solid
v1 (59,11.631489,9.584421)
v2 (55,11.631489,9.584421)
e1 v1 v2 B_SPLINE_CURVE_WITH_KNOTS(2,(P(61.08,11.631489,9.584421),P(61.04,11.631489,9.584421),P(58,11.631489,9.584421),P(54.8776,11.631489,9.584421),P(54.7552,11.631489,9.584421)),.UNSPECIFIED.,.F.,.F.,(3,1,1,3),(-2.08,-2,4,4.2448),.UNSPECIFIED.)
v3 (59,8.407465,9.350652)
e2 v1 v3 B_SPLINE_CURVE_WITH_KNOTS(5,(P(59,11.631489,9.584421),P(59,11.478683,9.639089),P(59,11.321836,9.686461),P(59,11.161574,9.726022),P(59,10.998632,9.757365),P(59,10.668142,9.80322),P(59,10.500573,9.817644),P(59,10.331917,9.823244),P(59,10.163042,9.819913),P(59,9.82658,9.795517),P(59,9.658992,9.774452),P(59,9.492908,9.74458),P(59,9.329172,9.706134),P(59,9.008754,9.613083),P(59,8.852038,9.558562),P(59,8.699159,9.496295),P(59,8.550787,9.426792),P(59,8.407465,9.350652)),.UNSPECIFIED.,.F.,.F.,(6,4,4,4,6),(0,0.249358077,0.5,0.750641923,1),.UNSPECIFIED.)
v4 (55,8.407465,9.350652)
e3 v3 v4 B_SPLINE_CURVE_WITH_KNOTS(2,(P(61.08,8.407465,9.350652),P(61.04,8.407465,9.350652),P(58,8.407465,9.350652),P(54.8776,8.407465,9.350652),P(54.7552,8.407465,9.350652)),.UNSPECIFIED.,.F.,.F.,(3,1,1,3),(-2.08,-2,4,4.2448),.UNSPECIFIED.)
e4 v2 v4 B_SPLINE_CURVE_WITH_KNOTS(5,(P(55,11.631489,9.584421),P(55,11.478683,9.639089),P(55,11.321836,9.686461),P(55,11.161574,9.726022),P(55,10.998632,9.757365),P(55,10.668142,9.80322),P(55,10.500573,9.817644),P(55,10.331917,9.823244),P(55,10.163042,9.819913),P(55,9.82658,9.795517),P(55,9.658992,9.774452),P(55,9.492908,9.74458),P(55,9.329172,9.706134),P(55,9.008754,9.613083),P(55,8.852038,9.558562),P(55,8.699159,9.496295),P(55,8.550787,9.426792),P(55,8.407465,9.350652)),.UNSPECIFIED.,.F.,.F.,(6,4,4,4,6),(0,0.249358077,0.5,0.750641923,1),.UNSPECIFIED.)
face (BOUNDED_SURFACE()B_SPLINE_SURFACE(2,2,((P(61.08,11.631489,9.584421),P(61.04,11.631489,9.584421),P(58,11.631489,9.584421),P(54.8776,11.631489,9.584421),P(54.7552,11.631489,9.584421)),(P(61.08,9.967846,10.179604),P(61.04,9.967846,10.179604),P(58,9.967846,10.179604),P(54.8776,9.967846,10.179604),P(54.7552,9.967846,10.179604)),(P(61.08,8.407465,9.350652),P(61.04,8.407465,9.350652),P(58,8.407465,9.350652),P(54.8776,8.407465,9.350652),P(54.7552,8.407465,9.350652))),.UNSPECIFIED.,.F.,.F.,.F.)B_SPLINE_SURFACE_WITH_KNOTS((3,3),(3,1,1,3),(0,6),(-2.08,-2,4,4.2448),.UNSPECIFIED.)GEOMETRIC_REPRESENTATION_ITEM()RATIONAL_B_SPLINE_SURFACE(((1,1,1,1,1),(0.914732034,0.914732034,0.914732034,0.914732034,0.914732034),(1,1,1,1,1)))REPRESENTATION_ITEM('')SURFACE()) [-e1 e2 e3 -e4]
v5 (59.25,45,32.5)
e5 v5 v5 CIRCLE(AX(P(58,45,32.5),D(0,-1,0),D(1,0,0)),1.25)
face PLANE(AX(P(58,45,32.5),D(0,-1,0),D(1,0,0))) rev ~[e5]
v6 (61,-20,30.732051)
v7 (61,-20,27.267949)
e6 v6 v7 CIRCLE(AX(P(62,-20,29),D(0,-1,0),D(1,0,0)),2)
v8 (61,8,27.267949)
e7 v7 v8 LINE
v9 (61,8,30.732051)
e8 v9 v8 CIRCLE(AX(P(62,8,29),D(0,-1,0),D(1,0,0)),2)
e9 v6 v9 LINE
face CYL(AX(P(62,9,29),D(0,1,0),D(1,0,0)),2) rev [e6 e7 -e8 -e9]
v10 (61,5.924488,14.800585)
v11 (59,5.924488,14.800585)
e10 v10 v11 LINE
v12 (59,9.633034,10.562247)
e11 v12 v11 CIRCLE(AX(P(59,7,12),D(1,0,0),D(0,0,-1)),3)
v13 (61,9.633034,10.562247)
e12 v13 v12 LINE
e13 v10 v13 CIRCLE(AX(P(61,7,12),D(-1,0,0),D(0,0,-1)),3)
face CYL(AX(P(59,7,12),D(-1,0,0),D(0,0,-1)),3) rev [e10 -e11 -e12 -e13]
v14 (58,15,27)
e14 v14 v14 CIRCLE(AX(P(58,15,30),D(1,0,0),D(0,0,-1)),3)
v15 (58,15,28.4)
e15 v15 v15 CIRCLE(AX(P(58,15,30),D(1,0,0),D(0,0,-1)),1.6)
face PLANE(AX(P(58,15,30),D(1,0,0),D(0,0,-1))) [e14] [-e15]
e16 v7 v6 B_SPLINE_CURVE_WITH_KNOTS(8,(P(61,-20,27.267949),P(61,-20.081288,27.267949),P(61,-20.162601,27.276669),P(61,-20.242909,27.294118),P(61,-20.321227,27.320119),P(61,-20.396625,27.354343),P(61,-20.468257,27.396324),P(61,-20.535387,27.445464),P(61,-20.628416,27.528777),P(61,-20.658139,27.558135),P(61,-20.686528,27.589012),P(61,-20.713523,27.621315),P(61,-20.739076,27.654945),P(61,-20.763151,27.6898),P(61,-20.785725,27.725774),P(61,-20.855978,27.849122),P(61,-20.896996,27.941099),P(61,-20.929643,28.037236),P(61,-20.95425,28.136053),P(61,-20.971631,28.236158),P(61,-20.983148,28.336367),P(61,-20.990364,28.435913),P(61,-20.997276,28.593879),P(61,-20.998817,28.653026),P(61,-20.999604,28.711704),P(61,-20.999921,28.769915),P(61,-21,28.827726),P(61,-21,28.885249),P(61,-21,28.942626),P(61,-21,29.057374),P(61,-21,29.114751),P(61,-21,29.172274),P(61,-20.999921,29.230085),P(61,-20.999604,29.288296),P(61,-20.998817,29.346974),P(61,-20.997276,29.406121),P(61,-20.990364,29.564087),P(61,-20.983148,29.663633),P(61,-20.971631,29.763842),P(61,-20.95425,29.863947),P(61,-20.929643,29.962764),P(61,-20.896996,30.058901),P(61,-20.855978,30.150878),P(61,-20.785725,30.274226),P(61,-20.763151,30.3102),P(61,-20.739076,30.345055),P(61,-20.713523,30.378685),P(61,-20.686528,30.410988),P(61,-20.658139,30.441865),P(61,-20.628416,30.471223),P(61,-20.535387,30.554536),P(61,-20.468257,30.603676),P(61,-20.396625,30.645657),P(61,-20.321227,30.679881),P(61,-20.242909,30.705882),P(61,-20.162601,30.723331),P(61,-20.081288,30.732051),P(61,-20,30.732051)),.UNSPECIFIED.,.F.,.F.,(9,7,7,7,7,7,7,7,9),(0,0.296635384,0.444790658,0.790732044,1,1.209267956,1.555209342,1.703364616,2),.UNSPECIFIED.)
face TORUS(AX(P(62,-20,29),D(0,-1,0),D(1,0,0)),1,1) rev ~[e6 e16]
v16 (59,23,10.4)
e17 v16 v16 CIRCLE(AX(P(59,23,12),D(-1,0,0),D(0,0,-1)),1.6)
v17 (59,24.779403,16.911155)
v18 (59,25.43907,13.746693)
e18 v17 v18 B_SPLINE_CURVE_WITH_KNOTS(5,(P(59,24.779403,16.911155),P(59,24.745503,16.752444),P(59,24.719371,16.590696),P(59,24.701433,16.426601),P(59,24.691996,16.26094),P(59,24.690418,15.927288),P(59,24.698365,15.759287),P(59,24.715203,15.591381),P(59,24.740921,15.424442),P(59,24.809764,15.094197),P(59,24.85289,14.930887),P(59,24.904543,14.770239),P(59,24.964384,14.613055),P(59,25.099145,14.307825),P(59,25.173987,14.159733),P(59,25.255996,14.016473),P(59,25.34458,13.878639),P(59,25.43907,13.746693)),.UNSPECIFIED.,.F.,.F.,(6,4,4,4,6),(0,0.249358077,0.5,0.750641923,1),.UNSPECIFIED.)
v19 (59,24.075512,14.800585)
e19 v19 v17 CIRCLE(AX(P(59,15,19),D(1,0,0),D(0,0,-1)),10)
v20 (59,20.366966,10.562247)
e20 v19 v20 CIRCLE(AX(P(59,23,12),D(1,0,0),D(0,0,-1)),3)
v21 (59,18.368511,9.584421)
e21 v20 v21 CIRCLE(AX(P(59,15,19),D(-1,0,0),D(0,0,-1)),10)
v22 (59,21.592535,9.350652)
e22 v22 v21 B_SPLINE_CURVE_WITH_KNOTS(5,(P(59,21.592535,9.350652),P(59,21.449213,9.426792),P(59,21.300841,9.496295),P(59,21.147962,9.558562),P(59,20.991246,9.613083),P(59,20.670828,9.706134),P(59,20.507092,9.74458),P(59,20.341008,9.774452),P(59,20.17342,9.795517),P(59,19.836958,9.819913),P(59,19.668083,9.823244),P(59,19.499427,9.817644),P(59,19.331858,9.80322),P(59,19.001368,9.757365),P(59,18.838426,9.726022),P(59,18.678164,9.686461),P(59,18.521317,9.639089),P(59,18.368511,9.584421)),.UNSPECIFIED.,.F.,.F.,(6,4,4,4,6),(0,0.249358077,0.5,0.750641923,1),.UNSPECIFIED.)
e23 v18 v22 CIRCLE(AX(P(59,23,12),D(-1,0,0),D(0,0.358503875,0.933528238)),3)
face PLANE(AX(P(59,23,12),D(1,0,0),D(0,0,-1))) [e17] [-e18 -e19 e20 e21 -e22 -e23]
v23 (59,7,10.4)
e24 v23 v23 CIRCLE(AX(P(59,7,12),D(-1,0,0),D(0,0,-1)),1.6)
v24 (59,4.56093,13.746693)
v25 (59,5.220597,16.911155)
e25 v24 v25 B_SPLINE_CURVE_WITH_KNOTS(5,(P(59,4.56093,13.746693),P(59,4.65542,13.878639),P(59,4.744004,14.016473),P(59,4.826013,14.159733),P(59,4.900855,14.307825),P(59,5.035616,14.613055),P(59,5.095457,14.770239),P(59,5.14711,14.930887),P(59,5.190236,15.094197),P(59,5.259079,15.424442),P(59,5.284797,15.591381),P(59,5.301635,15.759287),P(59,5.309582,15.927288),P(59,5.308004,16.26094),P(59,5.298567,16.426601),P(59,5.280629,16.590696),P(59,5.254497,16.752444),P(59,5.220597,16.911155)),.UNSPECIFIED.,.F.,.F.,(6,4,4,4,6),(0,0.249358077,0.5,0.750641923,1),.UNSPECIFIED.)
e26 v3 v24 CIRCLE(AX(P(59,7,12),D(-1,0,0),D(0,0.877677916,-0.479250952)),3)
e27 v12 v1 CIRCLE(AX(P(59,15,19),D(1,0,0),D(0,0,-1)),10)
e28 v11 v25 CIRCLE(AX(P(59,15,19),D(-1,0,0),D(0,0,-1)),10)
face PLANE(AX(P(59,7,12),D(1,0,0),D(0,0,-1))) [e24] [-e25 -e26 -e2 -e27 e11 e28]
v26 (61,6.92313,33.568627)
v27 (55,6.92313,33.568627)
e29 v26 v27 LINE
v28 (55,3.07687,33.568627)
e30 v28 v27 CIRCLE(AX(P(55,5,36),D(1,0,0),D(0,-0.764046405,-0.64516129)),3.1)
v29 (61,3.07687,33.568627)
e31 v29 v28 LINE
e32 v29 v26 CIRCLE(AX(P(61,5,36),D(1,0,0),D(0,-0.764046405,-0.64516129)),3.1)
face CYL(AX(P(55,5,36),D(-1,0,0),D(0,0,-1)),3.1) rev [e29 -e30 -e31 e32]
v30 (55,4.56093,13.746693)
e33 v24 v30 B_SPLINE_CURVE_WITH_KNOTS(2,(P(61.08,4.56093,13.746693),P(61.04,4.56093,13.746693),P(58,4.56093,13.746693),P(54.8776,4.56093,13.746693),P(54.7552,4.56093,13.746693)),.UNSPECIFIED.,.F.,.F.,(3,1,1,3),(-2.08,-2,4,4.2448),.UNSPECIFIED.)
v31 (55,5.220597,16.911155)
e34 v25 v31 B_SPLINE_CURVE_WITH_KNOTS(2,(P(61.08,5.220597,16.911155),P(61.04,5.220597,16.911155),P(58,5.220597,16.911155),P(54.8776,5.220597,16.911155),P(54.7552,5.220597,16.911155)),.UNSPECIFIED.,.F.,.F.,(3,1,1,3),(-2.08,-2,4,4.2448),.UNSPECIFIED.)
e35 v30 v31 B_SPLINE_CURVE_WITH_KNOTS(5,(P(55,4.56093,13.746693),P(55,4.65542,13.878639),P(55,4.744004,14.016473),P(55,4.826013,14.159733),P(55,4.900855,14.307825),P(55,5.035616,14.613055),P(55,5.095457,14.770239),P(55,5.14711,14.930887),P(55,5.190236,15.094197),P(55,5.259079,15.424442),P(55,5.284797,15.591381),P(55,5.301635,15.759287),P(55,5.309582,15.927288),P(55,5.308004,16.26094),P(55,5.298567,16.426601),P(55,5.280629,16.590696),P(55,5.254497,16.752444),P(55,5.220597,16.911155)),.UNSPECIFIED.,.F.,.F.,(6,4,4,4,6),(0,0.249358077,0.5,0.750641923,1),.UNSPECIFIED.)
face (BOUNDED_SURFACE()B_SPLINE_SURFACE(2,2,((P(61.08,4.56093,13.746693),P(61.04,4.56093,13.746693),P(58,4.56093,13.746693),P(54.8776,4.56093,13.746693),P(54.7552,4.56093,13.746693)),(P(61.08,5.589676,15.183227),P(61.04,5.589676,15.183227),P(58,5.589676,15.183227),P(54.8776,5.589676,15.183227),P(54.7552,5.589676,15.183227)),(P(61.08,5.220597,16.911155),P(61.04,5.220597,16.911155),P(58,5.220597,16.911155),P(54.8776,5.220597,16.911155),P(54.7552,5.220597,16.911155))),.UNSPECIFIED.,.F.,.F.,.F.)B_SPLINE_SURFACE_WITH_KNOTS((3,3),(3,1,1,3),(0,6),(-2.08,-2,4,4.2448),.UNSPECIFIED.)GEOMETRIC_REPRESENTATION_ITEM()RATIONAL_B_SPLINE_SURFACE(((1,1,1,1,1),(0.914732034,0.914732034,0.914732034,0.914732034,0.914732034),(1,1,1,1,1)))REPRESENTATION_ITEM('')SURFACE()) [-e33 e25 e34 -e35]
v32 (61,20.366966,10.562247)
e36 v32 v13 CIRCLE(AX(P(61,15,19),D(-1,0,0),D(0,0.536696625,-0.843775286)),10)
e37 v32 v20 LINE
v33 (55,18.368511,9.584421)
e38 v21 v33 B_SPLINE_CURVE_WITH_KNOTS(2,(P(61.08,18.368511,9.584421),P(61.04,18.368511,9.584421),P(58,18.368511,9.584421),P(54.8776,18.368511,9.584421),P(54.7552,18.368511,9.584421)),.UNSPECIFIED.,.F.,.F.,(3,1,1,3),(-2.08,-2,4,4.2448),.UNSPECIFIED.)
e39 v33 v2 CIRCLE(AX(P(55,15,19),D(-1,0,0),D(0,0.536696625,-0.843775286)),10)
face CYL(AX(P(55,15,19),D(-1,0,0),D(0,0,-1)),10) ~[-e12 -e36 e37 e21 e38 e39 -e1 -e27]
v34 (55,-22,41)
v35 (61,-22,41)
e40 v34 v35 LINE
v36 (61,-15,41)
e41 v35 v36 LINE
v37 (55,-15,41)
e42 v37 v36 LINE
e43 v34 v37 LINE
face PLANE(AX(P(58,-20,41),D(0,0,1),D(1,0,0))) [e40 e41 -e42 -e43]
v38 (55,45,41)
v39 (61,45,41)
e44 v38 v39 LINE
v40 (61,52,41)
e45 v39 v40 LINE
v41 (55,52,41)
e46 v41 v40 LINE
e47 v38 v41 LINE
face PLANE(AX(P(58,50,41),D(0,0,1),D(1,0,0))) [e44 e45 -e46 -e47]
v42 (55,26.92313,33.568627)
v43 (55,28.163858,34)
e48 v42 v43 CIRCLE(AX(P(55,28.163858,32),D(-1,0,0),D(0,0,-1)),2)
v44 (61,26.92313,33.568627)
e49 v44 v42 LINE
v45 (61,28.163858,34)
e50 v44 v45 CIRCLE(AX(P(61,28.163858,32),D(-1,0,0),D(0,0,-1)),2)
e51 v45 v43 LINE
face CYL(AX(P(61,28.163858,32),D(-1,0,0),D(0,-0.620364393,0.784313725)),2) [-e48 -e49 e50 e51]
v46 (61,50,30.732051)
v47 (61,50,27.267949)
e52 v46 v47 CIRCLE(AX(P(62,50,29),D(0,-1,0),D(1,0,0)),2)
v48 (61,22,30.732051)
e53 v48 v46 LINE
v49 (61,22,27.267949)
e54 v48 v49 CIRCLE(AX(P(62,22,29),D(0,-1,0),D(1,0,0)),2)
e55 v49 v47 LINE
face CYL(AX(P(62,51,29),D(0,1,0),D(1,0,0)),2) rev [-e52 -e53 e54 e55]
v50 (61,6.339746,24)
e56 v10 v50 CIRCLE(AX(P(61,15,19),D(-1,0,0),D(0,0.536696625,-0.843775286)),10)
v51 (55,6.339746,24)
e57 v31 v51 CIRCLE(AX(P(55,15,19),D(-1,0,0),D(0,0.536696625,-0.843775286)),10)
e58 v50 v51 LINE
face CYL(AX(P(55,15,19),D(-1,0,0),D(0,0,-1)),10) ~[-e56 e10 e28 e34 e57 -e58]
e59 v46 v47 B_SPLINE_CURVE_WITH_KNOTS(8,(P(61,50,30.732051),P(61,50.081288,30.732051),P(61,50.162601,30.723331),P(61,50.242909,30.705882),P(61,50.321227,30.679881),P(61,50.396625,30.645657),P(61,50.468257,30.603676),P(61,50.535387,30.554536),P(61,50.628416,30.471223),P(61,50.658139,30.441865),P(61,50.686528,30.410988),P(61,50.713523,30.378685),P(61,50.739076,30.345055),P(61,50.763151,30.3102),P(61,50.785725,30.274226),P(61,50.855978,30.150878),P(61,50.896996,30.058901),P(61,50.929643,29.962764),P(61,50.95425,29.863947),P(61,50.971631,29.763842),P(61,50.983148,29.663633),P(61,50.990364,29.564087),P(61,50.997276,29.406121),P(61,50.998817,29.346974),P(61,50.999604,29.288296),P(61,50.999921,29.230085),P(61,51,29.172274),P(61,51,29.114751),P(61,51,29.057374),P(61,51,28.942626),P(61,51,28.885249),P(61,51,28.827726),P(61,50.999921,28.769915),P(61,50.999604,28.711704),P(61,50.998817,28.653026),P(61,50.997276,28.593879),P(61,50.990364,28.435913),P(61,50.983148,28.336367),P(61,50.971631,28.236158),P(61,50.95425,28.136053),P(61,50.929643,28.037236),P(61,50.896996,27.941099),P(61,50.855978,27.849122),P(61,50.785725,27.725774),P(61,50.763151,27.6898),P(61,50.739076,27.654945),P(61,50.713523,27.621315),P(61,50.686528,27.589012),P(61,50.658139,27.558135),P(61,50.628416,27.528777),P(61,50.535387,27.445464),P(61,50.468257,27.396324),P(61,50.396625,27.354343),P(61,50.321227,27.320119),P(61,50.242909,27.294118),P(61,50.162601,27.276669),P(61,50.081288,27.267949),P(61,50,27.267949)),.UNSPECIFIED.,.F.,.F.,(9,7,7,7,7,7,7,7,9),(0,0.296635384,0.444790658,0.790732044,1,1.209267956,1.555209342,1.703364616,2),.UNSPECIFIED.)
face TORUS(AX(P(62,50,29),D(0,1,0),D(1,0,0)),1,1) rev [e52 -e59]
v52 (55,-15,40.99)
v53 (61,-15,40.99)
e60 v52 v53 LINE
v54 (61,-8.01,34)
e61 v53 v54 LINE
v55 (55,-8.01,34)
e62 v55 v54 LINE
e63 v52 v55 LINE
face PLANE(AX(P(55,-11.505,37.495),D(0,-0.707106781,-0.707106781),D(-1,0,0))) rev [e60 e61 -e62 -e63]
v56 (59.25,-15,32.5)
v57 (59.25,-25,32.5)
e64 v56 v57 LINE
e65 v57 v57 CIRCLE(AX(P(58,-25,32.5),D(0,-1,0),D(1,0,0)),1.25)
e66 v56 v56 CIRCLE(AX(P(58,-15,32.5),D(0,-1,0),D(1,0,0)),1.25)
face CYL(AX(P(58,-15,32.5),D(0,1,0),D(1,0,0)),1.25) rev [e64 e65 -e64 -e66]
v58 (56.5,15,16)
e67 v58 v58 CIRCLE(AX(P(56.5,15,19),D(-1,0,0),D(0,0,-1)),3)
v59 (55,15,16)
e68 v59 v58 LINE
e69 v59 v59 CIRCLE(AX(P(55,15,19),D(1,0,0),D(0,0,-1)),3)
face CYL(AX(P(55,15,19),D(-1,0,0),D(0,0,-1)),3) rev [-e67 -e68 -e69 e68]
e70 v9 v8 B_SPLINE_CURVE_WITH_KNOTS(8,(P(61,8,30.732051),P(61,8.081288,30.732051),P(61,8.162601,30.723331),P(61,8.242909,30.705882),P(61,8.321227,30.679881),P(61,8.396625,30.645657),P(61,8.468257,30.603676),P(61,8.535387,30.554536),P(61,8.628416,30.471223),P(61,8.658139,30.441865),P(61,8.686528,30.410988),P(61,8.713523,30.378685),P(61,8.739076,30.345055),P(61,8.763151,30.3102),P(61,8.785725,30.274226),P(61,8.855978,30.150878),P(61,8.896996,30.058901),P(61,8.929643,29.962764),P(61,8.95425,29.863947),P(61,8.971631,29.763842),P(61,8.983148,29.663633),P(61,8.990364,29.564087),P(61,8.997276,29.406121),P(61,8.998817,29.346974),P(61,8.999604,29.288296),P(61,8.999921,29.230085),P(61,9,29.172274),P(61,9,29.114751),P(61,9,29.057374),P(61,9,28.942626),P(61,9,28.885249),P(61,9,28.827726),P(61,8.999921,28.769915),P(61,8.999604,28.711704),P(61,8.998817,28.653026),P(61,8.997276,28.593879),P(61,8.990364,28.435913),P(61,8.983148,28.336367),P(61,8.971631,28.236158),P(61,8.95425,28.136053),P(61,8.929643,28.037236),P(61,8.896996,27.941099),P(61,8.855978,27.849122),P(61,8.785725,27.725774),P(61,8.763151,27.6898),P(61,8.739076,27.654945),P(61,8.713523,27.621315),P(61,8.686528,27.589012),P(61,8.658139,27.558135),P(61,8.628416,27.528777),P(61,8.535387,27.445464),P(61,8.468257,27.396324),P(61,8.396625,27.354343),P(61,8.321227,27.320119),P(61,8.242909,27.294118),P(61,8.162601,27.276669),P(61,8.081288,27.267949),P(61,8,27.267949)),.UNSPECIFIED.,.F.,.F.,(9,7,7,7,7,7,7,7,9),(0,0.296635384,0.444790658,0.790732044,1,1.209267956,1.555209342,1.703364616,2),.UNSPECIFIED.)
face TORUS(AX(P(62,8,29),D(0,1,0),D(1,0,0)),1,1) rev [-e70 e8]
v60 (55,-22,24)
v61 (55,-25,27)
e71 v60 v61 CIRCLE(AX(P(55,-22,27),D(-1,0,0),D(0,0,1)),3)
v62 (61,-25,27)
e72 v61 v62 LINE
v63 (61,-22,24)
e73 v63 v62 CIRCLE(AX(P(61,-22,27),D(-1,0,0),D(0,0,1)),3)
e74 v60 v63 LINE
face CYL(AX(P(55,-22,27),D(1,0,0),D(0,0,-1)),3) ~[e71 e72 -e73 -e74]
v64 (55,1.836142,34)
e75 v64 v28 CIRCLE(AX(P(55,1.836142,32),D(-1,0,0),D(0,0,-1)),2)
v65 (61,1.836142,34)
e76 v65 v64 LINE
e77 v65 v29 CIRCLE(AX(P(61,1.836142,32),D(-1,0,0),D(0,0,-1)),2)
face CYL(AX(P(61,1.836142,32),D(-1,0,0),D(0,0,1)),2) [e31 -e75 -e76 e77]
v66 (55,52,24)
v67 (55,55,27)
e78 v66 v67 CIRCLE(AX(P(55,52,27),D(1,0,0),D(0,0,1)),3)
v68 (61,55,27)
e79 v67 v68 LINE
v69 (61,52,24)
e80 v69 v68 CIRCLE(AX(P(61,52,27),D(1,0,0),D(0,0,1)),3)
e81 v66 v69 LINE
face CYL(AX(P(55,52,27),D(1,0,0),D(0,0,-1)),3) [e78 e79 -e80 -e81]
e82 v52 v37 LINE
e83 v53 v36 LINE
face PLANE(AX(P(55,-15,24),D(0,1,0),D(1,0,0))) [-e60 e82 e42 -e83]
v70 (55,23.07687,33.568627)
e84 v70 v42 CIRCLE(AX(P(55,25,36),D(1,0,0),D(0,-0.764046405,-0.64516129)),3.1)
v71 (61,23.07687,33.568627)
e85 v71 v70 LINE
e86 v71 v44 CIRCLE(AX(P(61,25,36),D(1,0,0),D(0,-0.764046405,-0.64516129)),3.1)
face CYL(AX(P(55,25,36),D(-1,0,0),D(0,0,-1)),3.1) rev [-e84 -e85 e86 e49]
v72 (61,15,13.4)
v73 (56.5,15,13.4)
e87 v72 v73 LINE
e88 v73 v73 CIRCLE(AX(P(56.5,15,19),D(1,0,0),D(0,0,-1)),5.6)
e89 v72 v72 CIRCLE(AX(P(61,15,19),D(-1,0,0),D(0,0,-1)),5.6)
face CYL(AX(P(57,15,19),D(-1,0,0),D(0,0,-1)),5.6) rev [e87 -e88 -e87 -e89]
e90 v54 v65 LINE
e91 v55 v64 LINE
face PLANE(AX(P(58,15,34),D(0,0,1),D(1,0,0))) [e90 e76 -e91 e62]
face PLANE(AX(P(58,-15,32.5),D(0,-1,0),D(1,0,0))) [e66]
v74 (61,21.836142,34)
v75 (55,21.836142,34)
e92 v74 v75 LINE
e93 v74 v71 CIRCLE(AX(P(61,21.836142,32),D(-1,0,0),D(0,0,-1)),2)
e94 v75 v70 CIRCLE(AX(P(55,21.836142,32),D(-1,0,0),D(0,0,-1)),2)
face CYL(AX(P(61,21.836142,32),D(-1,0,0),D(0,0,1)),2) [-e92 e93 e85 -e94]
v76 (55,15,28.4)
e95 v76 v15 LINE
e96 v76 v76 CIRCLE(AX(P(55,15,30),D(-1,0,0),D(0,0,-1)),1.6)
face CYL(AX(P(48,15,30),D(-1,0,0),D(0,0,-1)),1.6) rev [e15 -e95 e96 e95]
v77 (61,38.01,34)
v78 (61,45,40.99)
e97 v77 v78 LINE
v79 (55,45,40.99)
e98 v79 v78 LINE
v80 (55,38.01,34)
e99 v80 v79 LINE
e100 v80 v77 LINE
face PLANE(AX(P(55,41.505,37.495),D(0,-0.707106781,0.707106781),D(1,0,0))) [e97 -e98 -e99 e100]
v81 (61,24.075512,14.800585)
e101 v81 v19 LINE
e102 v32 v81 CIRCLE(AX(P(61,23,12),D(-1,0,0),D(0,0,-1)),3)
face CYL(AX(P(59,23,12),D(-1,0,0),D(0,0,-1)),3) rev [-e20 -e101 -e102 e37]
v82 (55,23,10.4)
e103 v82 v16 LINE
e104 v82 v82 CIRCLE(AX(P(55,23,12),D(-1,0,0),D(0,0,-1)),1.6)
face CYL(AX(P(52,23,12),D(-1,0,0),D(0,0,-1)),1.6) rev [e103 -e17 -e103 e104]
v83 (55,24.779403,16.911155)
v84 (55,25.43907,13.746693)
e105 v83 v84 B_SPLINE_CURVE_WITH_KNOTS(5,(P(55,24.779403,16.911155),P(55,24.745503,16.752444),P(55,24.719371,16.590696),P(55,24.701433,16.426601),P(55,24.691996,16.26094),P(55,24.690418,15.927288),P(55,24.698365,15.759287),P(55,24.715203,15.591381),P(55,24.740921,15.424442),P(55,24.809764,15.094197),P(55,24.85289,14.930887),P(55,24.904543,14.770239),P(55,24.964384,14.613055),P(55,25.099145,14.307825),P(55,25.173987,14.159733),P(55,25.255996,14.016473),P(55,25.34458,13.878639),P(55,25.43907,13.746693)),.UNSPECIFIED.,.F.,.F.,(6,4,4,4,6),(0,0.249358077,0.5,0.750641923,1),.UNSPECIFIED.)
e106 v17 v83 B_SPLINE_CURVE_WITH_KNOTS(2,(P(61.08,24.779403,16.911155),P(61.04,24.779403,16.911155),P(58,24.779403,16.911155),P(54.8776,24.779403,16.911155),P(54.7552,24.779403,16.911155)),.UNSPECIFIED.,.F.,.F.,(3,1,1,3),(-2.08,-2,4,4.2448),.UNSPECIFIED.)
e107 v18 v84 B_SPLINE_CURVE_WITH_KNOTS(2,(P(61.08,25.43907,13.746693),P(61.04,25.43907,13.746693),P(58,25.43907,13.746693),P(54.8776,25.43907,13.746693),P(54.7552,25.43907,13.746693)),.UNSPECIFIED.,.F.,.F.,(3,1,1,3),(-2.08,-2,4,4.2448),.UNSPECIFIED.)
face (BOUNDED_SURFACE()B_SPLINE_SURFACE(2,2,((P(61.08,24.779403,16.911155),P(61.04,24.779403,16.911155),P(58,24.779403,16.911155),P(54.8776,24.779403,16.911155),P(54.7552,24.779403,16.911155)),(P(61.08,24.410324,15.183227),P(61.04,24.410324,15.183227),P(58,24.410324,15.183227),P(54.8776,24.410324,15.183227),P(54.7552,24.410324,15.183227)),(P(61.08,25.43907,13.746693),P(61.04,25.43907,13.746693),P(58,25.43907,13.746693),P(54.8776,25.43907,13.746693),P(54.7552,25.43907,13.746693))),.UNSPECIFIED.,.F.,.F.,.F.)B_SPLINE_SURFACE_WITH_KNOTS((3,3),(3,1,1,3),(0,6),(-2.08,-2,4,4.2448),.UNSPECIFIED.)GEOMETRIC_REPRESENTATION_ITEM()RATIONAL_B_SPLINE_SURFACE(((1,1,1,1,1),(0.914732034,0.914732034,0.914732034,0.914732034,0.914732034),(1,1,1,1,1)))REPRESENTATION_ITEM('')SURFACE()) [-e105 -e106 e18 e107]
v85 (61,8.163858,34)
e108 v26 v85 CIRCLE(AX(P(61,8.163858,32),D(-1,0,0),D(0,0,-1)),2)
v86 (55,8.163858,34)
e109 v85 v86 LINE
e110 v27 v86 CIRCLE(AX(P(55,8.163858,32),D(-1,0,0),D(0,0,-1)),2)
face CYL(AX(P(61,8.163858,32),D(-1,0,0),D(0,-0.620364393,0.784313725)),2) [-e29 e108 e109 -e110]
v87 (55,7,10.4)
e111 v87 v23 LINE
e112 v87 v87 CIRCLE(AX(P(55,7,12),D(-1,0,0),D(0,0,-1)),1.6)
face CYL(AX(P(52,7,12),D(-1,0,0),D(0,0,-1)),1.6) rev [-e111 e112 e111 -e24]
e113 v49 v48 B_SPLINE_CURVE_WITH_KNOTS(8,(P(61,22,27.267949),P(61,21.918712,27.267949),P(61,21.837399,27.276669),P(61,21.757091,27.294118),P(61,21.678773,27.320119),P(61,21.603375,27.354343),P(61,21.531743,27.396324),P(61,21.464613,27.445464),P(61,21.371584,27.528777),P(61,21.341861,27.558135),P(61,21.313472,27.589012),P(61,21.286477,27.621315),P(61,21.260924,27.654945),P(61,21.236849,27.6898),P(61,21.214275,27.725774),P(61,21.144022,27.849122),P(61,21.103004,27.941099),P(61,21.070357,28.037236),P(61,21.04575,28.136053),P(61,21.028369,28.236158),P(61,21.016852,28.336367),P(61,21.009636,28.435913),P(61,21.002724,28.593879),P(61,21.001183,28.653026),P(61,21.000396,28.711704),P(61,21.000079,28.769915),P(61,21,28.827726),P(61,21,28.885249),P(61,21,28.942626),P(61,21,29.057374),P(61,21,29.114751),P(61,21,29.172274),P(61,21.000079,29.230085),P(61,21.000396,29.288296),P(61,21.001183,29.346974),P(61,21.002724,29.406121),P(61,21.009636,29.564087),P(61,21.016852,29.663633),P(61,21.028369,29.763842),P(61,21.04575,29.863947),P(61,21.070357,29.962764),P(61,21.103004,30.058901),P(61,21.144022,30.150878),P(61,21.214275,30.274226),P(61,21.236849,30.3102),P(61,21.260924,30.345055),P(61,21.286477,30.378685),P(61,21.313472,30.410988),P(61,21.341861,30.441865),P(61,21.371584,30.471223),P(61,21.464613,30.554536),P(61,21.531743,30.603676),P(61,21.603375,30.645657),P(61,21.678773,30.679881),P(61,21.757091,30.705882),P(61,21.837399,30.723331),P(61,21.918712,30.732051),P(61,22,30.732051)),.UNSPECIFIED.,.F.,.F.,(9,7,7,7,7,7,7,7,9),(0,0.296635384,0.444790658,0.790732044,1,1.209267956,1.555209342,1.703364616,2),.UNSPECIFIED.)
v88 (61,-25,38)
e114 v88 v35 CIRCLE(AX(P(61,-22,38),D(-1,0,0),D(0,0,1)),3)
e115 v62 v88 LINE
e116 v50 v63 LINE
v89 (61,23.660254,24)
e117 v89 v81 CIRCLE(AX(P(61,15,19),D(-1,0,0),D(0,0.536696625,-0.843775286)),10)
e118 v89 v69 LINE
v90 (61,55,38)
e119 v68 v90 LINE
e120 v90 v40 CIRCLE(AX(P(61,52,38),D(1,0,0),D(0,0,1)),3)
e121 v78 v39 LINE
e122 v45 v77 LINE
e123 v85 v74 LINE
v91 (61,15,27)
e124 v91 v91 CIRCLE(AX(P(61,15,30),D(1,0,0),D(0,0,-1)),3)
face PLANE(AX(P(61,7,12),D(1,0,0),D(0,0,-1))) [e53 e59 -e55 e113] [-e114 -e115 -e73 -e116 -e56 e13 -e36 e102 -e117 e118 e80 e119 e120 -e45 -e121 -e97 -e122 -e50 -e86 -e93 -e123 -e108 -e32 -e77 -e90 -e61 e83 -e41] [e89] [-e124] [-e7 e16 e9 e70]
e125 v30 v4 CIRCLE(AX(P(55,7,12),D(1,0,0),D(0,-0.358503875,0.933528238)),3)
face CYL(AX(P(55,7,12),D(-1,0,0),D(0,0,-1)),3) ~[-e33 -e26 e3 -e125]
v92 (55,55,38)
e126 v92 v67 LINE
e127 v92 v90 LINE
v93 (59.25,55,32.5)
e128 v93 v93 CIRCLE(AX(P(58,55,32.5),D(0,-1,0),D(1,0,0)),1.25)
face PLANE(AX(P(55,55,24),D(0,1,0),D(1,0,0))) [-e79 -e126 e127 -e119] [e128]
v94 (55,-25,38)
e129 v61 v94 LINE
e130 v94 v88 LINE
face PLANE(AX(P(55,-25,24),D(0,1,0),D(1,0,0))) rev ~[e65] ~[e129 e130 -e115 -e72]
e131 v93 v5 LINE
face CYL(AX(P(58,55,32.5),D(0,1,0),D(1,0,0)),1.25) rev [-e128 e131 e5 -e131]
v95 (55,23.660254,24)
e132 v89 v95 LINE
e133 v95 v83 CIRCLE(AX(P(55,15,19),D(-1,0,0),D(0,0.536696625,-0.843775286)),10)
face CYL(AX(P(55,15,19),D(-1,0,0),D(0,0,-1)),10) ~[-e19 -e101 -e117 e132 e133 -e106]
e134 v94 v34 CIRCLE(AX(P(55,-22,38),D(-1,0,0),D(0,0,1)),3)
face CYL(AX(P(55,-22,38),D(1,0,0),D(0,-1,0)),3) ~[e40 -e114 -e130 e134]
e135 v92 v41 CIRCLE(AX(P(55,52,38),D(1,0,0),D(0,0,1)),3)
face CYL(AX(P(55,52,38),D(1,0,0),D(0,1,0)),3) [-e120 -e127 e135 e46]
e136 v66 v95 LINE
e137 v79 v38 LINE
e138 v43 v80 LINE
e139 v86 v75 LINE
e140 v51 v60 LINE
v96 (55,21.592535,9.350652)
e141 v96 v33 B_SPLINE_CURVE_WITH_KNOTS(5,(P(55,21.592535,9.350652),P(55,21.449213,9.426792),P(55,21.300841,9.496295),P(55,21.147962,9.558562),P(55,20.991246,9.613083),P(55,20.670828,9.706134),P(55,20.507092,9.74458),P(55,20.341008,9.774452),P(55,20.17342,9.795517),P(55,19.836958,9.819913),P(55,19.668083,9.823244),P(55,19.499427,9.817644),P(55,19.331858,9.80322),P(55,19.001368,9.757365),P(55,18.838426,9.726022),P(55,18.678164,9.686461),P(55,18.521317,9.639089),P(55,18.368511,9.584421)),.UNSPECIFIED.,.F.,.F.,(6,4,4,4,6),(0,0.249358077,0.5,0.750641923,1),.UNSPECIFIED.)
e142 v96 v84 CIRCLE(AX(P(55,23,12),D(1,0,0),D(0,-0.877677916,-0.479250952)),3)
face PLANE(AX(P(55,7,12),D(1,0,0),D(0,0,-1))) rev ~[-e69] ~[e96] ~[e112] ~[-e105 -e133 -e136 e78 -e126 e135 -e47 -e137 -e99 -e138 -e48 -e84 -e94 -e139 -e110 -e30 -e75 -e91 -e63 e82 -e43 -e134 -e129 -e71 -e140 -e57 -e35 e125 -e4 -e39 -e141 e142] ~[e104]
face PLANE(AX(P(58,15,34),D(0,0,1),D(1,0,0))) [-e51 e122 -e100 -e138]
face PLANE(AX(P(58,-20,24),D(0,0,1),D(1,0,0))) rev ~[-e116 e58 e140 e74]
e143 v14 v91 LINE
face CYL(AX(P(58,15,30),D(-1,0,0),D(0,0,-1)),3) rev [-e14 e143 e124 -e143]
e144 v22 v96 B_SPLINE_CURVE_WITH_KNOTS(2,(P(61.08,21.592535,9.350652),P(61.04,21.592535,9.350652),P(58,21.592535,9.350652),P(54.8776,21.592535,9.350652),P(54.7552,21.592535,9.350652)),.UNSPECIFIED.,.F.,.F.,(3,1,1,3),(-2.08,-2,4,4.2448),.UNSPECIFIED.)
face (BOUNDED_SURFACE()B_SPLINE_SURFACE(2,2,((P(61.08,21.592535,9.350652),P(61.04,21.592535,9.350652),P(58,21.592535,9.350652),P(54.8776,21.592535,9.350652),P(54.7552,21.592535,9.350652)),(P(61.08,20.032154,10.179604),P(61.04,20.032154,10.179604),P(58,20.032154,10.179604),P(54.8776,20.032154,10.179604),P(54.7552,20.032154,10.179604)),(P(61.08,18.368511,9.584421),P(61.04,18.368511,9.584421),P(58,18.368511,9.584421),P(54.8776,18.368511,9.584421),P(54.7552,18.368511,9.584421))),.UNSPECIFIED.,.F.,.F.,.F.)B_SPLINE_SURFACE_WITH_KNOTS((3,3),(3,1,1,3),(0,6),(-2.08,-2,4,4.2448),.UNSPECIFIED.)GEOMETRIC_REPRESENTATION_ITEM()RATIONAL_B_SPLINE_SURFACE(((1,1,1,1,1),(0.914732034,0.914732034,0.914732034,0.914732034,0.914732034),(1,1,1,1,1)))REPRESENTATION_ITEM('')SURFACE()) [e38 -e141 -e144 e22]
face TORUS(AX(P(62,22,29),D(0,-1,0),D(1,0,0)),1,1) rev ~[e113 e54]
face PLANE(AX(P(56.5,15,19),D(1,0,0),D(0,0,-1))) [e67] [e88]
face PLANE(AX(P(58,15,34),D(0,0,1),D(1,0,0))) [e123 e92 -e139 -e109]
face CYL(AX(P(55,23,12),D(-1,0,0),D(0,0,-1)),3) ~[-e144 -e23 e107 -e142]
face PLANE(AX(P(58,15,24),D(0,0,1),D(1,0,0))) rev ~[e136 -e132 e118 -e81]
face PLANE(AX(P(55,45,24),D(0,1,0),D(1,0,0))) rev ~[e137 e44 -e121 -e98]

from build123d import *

# Parameters (mm, degrees)
CYLINDER109_R           = 5.6
CYLINDER109_DEPTH       = 4.5
CYLINDER109_PITCH_ANGLE = 90
CYLINDER103_R           = 3.1
CYLINDER103_DEPTH       = 6
CYLINDER103_PITCH_ANGLE = 90
CYLINDER104_R           = 3.1
CYLINDER104_DEPTH       = 6
CYLINDER104_PITCH_ANGLE = 90
CYLINDER057_R           = 2
CYLINDER057_DEPTH       = 30
CYLINDER057_ROLL_ANGLE  = 90
FILLET017_R             = 1
CYLINDER056_R           = 2
CYLINDER056_DEPTH       = 30
CYLINDER056_ROLL_ANGLE  = 90
FILLET016_R             = 1
CYLINDER052_R           = 1.25
CYLINDER052_DEPTH       = 10
CYLINDER052_ROLL_ANGLE  = 90
CYLINDER054_R           = 1.25
CYLINDER054_DEPTH       = 10
CYLINDER054_ROLL_ANGLE  = 90
CYLINDER047_R           = 3
CYLINDER047_DEPTH       = 3
CYLINDER047_PITCH_ANGLE = 90
CYLINDER048_R           = 1.6
CYLINDER048_DEPTH       = 10
CYLINDER048_PITCH_ANGLE = 90
BOX011_W                = 6
BOX011_H                = 10
BOX011_DEPTH            = 17
CYLINDER049_R           = 5.6
CYLINDER049_DEPTH       = 6
CYLINDER049_PITCH_ANGLE = 90
BOX009_W                = 6
BOX009_H                = 80
BOX009_DEPTH            = 10
CYLINDER042_R           = 3
CYLINDER042_DEPTH       = 3
CYLINDER042_PITCH_ANGLE = 90
CYLINDER043_R           = 1.6
CYLINDER043_DEPTH       = 10
CYLINDER043_PITCH_ANGLE = 90
CYLINDER044_R           = 1.6
CYLINDER044_DEPTH       = 10
CYLINDER044_PITCH_ANGLE = 90
CYLINDER041_R           = 3
CYLINDER041_DEPTH       = 3
CYLINDER041_PITCH_ANGLE = 90
CYLINDER035_R           = 3
CYLINDER035_DEPTH       = 6
CYLINDER035_PITCH_ANGLE = 90
CYLINDER040_R           = 3
CYLINDER040_DEPTH       = 6
CYLINDER040_PITCH_ANGLE = 90
CYLINDER034_R           = 3
CYLINDER034_DEPTH       = 5
CYLINDER034_PITCH_ANGLE = 90
CYLINDER033_R           = 5.6
CYLINDER033_DEPTH       = 4
CYLINDER033_PITCH_ANGLE = 90
CYLINDER002_R           = 10
CYLINDER002_DEPTH       = 6
CYLINDER002_PITCH_ANGLE = 90
BOX010_W                = 6
BOX010_H                = 10
BOX010_DEPTH            = 17
FILLET014_R             = 3
CHAMFER001_SIZE         = 6.99
FILLET035_R             = 4
FILLET037_R             = 2


with BuildPart() as cylinder109:
    # Cylinder109 → Cylinder109 (new body)
    with BuildSketch(Plane.XY):
        Circle(CYLINDER109_R)
    extrude(amount=CYLINDER109_DEPTH)


with BuildPart() as cylinder109_1:
    # Cylinder109 pitch: moved
    add(cylinder109.part.rotate(Axis((0, 0, 0), (0, 1, 0)), CYLINDER109_PITCH_ANGLE))


with BuildPart() as cylinder109_2:
    # Cylinder109 placement: moved
    add(cylinder109_1.part.moved(Location((56.5, 15, 19))))


with BuildPart() as cylinder103:
    # Cylinder103 → Cylinder103 (new body)
    with BuildSketch(Plane.XY):
        Circle(CYLINDER103_R)
    extrude(amount=CYLINDER103_DEPTH)


with BuildPart() as cylinder103_1:
    # Cylinder103 pitch: moved
    add(cylinder103.part.rotate(Axis((0, 0, 0), (0, 1, 0)), CYLINDER103_PITCH_ANGLE))


with BuildPart() as cylinder103_2:
    # Cylinder103 placement: moved
    add(cylinder103_1.part.moved(Location((55, 5, 36))))


with BuildPart() as fusion054:
    # Cylinder104 → Cylinder104 (new body)
    with BuildSketch(Plane.XY):
        Circle(CYLINDER104_R)
    extrude(amount=CYLINDER104_DEPTH)


with BuildPart() as fusion054_1:
    # Cylinder104 pitch: moved
    add(fusion054.part.rotate(Axis((0, 0, 0), (0, 1, 0)), CYLINDER104_PITCH_ANGLE))


with BuildPart() as fusion054_2:
    # Cylinder104 placement: moved
    add(fusion054_1.part.moved(Location((55, 25, 36))))

    # Fusion054: union Cylinder103
    add(cylinder103_2.part)


with BuildPart() as fillet017:
    # Cylinder057 → Cylinder057 (new body)
    with BuildSketch(Plane.XY):
        Circle(CYLINDER057_R)
    extrude(amount=CYLINDER057_DEPTH)


with BuildPart() as fillet017_1:
    # Cylinder057 roll: moved
    add(fillet017.part.rotate(Axis((0, 0, 0), (1, 0, 0)), CYLINDER057_ROLL_ANGLE))


with BuildPart() as fillet017_2:
    # Cylinder057 placement: moved
    add(fillet017_1.part.moved(Location((62, 9, 29))))

    # Fillet017
    fillet017_edges = [fillet017_2.edges().sort_by_distance(p)[0] for p in [
        (60, -21, 29),
        (60, 9, 29),
    ]]
    fillet(fillet017_edges, radius=FILLET017_R)


with BuildPart() as fillet017_3:
    # Fillet017 placement: moved
    add(fillet017_2.part.moved(Location((0, 42, 0))))


with BuildPart() as fusion028:
    # Cylinder056 → Cylinder056 (new body)
    with BuildSketch(Plane.XY):
        Circle(CYLINDER056_R)
    extrude(amount=CYLINDER056_DEPTH)


with BuildPart() as fusion028_1:
    # Cylinder056 roll: moved
    add(fusion028.part.rotate(Axis((0, 0, 0), (1, 0, 0)), CYLINDER056_ROLL_ANGLE))


with BuildPart() as fusion028_2:
    # Cylinder056 placement: moved
    add(fusion028_1.part.moved(Location((62, 9, 29))))

    # Fillet016
    fillet016_edges = [fusion028_2.edges().sort_by_distance(p)[0] for p in [
        (60, -21, 29),
        (60, 9, 29),
    ]]
    fillet(fillet016_edges, radius=FILLET016_R)

    # Fusion028: union Fillet017
    add(fillet017_3.part)


with BuildPart() as cylinder052:
    # Cylinder052 → Cylinder052 (new body)
    with BuildSketch(Plane.XY):
        Circle(CYLINDER052_R)
    extrude(amount=CYLINDER052_DEPTH)


with BuildPart() as cylinder052_1:
    # Cylinder052 roll: moved
    add(cylinder052.part.rotate(Axis((0, 0, 0), (1, 0, 0)), CYLINDER052_ROLL_ANGLE))


with BuildPart() as cylinder052_2:
    # Cylinder052 placement: moved
    add(cylinder052_1.part.moved(Location((58, -15, 32.5))))


with BuildPart() as fusion027:
    # Cylinder054 → Cylinder054 (new body)
    with BuildSketch(Plane.XY):
        Circle(CYLINDER054_R)
    extrude(amount=CYLINDER054_DEPTH)


with BuildPart() as fusion027_1:
    # Cylinder054 roll: moved
    add(fusion027.part.rotate(Axis((0, 0, 0), (1, 0, 0)), CYLINDER054_ROLL_ANGLE))


with BuildPart() as fusion027_2:
    # Cylinder054 placement: moved
    add(fusion027_1.part.moved(Location((58, 55, 32.5))))

    # Fusion027: union Cylinder052
    add(cylinder052_2.part)


with BuildPart() as cylinder047:
    # Cylinder047 → Cylinder047 (new body)
    with BuildSketch(Plane.XY):
        Circle(CYLINDER047_R)
    extrude(amount=CYLINDER047_DEPTH)


with BuildPart() as cylinder047_1:
    # Cylinder047 pitch: moved
    add(cylinder047.part.rotate(Axis((0, 0, 0), (0, 1, 0)), CYLINDER047_PITCH_ANGLE))


with BuildPart() as cylinder047_2:
    # Cylinder047 placement: moved
    add(cylinder047_1.part.moved(Location((58, 22, 12))))


with BuildPart() as fusion024:
    # Cylinder048 → Cylinder048 (new body)
    with BuildSketch(Plane.XY):
        Circle(CYLINDER048_R)
    extrude(amount=CYLINDER048_DEPTH)


with BuildPart() as fusion024_1:
    # Cylinder048 pitch: moved
    add(fusion024.part.rotate(Axis((0, 0, 0), (0, 1, 0)), CYLINDER048_PITCH_ANGLE))


with BuildPart() as fusion024_2:
    # Cylinder048 placement: moved
    add(fusion024_1.part.moved(Location((48, 22, 12))))

    # Fusion024: union Cylinder047
    add(cylinder047_2.part)


with BuildPart() as fusion024_3:
    # Fusion024 placement: moved
    add(fusion024_2.part.moved(Location((0, -7, 18))))


with BuildPart() as cube004:
    # Box011 → Box011 (new body)
    with BuildSketch(Plane(origin=(55, 45, 24), x_dir=(1, 0, 0), z_dir=(0, 0, 1))):
        with Locations((3, 5)):
            Rectangle(BOX011_W, BOX011_H)
    extrude(amount=BOX011_DEPTH)


with BuildPart() as cylinder049:
    # Cylinder049 → Cylinder049 (new body)
    with BuildSketch(Plane.XY):
        Circle(CYLINDER049_R)
    extrude(amount=CYLINDER049_DEPTH)


with BuildPart() as cylinder049_1:
    # Cylinder049 pitch: moved
    add(cylinder049.part.rotate(Axis((0, 0, 0), (0, 1, 0)), CYLINDER049_PITCH_ANGLE))


with BuildPart() as cylinder049_2:
    # Cylinder049 placement: moved
    add(cylinder049_1.part.moved(Location((55, 15, 19))))


with BuildPart() as cut016:
    # Box009 → Box009 (new body)
    with BuildSketch(Plane(origin=(55, -25, 24), x_dir=(1, 0, 0), z_dir=(0, 0, 1))):
        with Locations((3, 40)):
            Rectangle(BOX009_W, BOX009_H)
    extrude(amount=BOX009_DEPTH)

    # Cut016: cut Cylinder049
    add(cylinder049_2.part, mode=Mode.SUBTRACT)


with BuildPart() as cylinder042:
    # Cylinder042 → Cylinder042 (new body)
    with BuildSketch(Plane.XY):
        Circle(CYLINDER042_R)
    extrude(amount=CYLINDER042_DEPTH)


with BuildPart() as cylinder042_1:
    # Cylinder042 pitch: moved
    add(cylinder042.part.rotate(Axis((0, 0, 0), (0, 1, 0)), CYLINDER042_PITCH_ANGLE))


with BuildPart() as cylinder042_2:
    # Cylinder042 placement: moved
    add(cylinder042_1.part.moved(Location((58, 7, 12))))


with BuildPart() as cylinder043:
    # Cylinder043 → Cylinder043 (new body)
    with BuildSketch(Plane.XY):
        Circle(CYLINDER043_R)
    extrude(amount=CYLINDER043_DEPTH)


with BuildPart() as cylinder043_1:
    # Cylinder043 pitch: moved
    add(cylinder043.part.rotate(Axis((0, 0, 0), (0, 1, 0)), CYLINDER043_PITCH_ANGLE))


with BuildPart() as cylinder043_2:
    # Cylinder043 placement: moved
    add(cylinder043_1.part.moved(Location((51, 7, 12))))


with BuildPart() as cylinder044:
    # Cylinder044 → Cylinder044 (new body)
    with BuildSketch(Plane.XY):
        Circle(CYLINDER044_R)
    extrude(amount=CYLINDER044_DEPTH)


with BuildPart() as cylinder044_1:
    # Cylinder044 pitch: moved
    add(cylinder044.part.rotate(Axis((0, 0, 0), (0, 1, 0)), CYLINDER044_PITCH_ANGLE))


with BuildPart() as cylinder044_2:
    # Cylinder044 placement: moved
    add(cylinder044_1.part.moved(Location((51, 23, 12))))


with BuildPart() as fusion022:
    # Cylinder041 → Cylinder041 (new body)
    with BuildSketch(Plane.XY):
        Circle(CYLINDER041_R)
    extrude(amount=CYLINDER041_DEPTH)


with BuildPart() as fusion022_1:
    # Cylinder041 pitch: moved
    add(fusion022.part.rotate(Axis((0, 0, 0), (0, 1, 0)), CYLINDER041_PITCH_ANGLE))


with BuildPart() as fusion022_2:
    # Cylinder041 placement: moved
    add(fusion022_1.part.moved(Location((58, 23, 12))))

    # Fusion022: union Cylinder042, Cylinder043, Cylinder044
    add(cylinder042_2.part)
    add(cylinder043_2.part)
    add(cylinder044_2.part)


with BuildPart() as fusion022_3:
    # Fusion022 placement: moved
    add(fusion022_2.part.moved(Location((1, 0, 0))))


with BuildPart() as cylinder035:
    # Cylinder035 → Cylinder035 (new body)
    with BuildSketch(Plane.XY):
        Circle(CYLINDER035_R)
    extrude(amount=CYLINDER035_DEPTH)


with BuildPart() as cylinder035_1:
    # Cylinder035 pitch: moved
    add(cylinder035.part.rotate(Axis((0, 0, 0), (0, 1, 0)), CYLINDER035_PITCH_ANGLE))


with BuildPart() as cylinder035_2:
    # Cylinder035 placement: moved
    add(cylinder035_1.part.moved(Location((55, 23, 12))))


with BuildPart() as cylinder040:
    # Cylinder040 → Cylinder040 (new body)
    with BuildSketch(Plane.XY):
        Circle(CYLINDER040_R)
    extrude(amount=CYLINDER040_DEPTH)


with BuildPart() as cylinder040_1:
    # Cylinder040 pitch: moved
    add(cylinder040.part.rotate(Axis((0, 0, 0), (0, 1, 0)), CYLINDER040_PITCH_ANGLE))


with BuildPart() as cylinder040_2:
    # Cylinder040 placement: moved
    add(cylinder040_1.part.moved(Location((55, 7, 12))))


with BuildPart() as cylinder034:
    # Cylinder034 → Cylinder034 (new body)
    with BuildSketch(Plane.XY):
        Circle(CYLINDER034_R)
    extrude(amount=CYLINDER034_DEPTH)


with BuildPart() as cylinder034_1:
    # Cylinder034 pitch: moved
    add(cylinder034.part.rotate(Axis((0, 0, 0), (0, 1, 0)), CYLINDER034_PITCH_ANGLE))


with BuildPart() as cylinder034_2:
    # Cylinder034 placement: moved
    add(cylinder034_1.part.moved(Location((55, 15, 19))))


with BuildPart() as fusion019:
    # Cylinder033 → Cylinder033 (new body)
    with BuildSketch(Plane.XY):
        Circle(CYLINDER033_R)
    extrude(amount=CYLINDER033_DEPTH)


with BuildPart() as fusion019_1:
    # Cylinder033 pitch: moved
    add(fusion019.part.rotate(Axis((0, 0, 0), (0, 1, 0)), CYLINDER033_PITCH_ANGLE))


with BuildPart() as fusion019_2:
    # Cylinder033 placement: moved
    add(fusion019_1.part.moved(Location((57, 15, 19))))

    # Fusion019: union Cylinder034
    add(cylinder034_2.part)


with BuildPart() as cut014:
    # Cylinder002 → Cylinder002 (new body)
    with BuildSketch(Plane.XY):
        Circle(CYLINDER002_R)
    extrude(amount=CYLINDER002_DEPTH)


with BuildPart() as cut014_1:
    # Cylinder002 pitch: moved
    add(cut014.part.rotate(Axis((0, 0, 0), (0, 1, 0)), CYLINDER002_PITCH_ANGLE))


with BuildPart() as cut014_2:
    # Cylinder002 placement: moved
    add(cut014_1.part.moved(Location((55, 15, 19))))

    # Cut012: cut Fusion019
    add(fusion019_2.part, mode=Mode.SUBTRACT)

    # Fusion021: union Cylinder035, Cylinder040
    add(cylinder035_2.part)
    add(cylinder040_2.part)

    # Cut014: cut Fusion022
    add(fusion022_3.part, mode=Mode.SUBTRACT)


with BuildPart() as exit_part:
    # Box010 → Box010 (new body)
    with BuildSketch(Plane(origin=(55, -25, 24), x_dir=(1, 0, 0), z_dir=(0, 0, 1))):
        with Locations((3, 5)):
            Rectangle(BOX010_W, BOX010_H)
    extrude(amount=BOX010_DEPTH)

    # Fusion025: union Cube004, Cut016, Cut014
    add(cube004.part)
    add(cut016.part)
    add(cut014_2.part)

    # Cut017: cut Fusion024
    add(fusion024_3.part, mode=Mode.SUBTRACT)

    # Fillet014
    fillet014_edges = [exit_part.edges().sort_by_distance(p)[0] for p in [
        (58, -25, 41),
        (58, -25, 24),
        (58, 55, 41),
        (58, 55, 24),
    ]]
    fillet(fillet014_edges, radius=FILLET014_R)

    # Chamfer001
    chamfer001_edges = [exit_part.edges().sort_by_distance(p)[0] for p in [
        (58, -15, 34),
        (58, 45, 34),
    ]]
    chamfer(chamfer001_edges, length=CHAMFER001_SIZE)

    # Cut043: cut Fusion027
    add(fusion027_2.part, mode=Mode.SUBTRACT)

    # Cut044: cut Fusion028
    add(fusion028_2.part, mode=Mode.SUBTRACT)

    # Fillet035
    fillet035_edges = [exit_part.edges().sort_by_distance(p)[0] for p in [
        (57, 5.924488, 14.800585),
        (57, 9.633034, 10.562247),
        (57, 24.075512, 14.800585),
        (57, 20.366966, 10.562247),
    ]]
    fillet(fillet035_edges, radius=FILLET035_R)

    # Cut045: cut Fusion054
    add(fusion054_2.part, mode=Mode.SUBTRACT)

    # Fillet037
    fillet037_edges = [exit_part.edges().sort_by_distance(p)[0] for p in [
        (58, 2.631456, 34),
        (58, 7.368544, 34),
        (58, 22.631456, 34),
        (58, 27.368544, 34),
    ]]
    fillet(fillet037_edges, radius=FILLET037_R)

    # Cut048: cut Cylinder109
    add(cylinder109_2.part, mode=Mode.SUBTRACT)


solid = exit_part.part
